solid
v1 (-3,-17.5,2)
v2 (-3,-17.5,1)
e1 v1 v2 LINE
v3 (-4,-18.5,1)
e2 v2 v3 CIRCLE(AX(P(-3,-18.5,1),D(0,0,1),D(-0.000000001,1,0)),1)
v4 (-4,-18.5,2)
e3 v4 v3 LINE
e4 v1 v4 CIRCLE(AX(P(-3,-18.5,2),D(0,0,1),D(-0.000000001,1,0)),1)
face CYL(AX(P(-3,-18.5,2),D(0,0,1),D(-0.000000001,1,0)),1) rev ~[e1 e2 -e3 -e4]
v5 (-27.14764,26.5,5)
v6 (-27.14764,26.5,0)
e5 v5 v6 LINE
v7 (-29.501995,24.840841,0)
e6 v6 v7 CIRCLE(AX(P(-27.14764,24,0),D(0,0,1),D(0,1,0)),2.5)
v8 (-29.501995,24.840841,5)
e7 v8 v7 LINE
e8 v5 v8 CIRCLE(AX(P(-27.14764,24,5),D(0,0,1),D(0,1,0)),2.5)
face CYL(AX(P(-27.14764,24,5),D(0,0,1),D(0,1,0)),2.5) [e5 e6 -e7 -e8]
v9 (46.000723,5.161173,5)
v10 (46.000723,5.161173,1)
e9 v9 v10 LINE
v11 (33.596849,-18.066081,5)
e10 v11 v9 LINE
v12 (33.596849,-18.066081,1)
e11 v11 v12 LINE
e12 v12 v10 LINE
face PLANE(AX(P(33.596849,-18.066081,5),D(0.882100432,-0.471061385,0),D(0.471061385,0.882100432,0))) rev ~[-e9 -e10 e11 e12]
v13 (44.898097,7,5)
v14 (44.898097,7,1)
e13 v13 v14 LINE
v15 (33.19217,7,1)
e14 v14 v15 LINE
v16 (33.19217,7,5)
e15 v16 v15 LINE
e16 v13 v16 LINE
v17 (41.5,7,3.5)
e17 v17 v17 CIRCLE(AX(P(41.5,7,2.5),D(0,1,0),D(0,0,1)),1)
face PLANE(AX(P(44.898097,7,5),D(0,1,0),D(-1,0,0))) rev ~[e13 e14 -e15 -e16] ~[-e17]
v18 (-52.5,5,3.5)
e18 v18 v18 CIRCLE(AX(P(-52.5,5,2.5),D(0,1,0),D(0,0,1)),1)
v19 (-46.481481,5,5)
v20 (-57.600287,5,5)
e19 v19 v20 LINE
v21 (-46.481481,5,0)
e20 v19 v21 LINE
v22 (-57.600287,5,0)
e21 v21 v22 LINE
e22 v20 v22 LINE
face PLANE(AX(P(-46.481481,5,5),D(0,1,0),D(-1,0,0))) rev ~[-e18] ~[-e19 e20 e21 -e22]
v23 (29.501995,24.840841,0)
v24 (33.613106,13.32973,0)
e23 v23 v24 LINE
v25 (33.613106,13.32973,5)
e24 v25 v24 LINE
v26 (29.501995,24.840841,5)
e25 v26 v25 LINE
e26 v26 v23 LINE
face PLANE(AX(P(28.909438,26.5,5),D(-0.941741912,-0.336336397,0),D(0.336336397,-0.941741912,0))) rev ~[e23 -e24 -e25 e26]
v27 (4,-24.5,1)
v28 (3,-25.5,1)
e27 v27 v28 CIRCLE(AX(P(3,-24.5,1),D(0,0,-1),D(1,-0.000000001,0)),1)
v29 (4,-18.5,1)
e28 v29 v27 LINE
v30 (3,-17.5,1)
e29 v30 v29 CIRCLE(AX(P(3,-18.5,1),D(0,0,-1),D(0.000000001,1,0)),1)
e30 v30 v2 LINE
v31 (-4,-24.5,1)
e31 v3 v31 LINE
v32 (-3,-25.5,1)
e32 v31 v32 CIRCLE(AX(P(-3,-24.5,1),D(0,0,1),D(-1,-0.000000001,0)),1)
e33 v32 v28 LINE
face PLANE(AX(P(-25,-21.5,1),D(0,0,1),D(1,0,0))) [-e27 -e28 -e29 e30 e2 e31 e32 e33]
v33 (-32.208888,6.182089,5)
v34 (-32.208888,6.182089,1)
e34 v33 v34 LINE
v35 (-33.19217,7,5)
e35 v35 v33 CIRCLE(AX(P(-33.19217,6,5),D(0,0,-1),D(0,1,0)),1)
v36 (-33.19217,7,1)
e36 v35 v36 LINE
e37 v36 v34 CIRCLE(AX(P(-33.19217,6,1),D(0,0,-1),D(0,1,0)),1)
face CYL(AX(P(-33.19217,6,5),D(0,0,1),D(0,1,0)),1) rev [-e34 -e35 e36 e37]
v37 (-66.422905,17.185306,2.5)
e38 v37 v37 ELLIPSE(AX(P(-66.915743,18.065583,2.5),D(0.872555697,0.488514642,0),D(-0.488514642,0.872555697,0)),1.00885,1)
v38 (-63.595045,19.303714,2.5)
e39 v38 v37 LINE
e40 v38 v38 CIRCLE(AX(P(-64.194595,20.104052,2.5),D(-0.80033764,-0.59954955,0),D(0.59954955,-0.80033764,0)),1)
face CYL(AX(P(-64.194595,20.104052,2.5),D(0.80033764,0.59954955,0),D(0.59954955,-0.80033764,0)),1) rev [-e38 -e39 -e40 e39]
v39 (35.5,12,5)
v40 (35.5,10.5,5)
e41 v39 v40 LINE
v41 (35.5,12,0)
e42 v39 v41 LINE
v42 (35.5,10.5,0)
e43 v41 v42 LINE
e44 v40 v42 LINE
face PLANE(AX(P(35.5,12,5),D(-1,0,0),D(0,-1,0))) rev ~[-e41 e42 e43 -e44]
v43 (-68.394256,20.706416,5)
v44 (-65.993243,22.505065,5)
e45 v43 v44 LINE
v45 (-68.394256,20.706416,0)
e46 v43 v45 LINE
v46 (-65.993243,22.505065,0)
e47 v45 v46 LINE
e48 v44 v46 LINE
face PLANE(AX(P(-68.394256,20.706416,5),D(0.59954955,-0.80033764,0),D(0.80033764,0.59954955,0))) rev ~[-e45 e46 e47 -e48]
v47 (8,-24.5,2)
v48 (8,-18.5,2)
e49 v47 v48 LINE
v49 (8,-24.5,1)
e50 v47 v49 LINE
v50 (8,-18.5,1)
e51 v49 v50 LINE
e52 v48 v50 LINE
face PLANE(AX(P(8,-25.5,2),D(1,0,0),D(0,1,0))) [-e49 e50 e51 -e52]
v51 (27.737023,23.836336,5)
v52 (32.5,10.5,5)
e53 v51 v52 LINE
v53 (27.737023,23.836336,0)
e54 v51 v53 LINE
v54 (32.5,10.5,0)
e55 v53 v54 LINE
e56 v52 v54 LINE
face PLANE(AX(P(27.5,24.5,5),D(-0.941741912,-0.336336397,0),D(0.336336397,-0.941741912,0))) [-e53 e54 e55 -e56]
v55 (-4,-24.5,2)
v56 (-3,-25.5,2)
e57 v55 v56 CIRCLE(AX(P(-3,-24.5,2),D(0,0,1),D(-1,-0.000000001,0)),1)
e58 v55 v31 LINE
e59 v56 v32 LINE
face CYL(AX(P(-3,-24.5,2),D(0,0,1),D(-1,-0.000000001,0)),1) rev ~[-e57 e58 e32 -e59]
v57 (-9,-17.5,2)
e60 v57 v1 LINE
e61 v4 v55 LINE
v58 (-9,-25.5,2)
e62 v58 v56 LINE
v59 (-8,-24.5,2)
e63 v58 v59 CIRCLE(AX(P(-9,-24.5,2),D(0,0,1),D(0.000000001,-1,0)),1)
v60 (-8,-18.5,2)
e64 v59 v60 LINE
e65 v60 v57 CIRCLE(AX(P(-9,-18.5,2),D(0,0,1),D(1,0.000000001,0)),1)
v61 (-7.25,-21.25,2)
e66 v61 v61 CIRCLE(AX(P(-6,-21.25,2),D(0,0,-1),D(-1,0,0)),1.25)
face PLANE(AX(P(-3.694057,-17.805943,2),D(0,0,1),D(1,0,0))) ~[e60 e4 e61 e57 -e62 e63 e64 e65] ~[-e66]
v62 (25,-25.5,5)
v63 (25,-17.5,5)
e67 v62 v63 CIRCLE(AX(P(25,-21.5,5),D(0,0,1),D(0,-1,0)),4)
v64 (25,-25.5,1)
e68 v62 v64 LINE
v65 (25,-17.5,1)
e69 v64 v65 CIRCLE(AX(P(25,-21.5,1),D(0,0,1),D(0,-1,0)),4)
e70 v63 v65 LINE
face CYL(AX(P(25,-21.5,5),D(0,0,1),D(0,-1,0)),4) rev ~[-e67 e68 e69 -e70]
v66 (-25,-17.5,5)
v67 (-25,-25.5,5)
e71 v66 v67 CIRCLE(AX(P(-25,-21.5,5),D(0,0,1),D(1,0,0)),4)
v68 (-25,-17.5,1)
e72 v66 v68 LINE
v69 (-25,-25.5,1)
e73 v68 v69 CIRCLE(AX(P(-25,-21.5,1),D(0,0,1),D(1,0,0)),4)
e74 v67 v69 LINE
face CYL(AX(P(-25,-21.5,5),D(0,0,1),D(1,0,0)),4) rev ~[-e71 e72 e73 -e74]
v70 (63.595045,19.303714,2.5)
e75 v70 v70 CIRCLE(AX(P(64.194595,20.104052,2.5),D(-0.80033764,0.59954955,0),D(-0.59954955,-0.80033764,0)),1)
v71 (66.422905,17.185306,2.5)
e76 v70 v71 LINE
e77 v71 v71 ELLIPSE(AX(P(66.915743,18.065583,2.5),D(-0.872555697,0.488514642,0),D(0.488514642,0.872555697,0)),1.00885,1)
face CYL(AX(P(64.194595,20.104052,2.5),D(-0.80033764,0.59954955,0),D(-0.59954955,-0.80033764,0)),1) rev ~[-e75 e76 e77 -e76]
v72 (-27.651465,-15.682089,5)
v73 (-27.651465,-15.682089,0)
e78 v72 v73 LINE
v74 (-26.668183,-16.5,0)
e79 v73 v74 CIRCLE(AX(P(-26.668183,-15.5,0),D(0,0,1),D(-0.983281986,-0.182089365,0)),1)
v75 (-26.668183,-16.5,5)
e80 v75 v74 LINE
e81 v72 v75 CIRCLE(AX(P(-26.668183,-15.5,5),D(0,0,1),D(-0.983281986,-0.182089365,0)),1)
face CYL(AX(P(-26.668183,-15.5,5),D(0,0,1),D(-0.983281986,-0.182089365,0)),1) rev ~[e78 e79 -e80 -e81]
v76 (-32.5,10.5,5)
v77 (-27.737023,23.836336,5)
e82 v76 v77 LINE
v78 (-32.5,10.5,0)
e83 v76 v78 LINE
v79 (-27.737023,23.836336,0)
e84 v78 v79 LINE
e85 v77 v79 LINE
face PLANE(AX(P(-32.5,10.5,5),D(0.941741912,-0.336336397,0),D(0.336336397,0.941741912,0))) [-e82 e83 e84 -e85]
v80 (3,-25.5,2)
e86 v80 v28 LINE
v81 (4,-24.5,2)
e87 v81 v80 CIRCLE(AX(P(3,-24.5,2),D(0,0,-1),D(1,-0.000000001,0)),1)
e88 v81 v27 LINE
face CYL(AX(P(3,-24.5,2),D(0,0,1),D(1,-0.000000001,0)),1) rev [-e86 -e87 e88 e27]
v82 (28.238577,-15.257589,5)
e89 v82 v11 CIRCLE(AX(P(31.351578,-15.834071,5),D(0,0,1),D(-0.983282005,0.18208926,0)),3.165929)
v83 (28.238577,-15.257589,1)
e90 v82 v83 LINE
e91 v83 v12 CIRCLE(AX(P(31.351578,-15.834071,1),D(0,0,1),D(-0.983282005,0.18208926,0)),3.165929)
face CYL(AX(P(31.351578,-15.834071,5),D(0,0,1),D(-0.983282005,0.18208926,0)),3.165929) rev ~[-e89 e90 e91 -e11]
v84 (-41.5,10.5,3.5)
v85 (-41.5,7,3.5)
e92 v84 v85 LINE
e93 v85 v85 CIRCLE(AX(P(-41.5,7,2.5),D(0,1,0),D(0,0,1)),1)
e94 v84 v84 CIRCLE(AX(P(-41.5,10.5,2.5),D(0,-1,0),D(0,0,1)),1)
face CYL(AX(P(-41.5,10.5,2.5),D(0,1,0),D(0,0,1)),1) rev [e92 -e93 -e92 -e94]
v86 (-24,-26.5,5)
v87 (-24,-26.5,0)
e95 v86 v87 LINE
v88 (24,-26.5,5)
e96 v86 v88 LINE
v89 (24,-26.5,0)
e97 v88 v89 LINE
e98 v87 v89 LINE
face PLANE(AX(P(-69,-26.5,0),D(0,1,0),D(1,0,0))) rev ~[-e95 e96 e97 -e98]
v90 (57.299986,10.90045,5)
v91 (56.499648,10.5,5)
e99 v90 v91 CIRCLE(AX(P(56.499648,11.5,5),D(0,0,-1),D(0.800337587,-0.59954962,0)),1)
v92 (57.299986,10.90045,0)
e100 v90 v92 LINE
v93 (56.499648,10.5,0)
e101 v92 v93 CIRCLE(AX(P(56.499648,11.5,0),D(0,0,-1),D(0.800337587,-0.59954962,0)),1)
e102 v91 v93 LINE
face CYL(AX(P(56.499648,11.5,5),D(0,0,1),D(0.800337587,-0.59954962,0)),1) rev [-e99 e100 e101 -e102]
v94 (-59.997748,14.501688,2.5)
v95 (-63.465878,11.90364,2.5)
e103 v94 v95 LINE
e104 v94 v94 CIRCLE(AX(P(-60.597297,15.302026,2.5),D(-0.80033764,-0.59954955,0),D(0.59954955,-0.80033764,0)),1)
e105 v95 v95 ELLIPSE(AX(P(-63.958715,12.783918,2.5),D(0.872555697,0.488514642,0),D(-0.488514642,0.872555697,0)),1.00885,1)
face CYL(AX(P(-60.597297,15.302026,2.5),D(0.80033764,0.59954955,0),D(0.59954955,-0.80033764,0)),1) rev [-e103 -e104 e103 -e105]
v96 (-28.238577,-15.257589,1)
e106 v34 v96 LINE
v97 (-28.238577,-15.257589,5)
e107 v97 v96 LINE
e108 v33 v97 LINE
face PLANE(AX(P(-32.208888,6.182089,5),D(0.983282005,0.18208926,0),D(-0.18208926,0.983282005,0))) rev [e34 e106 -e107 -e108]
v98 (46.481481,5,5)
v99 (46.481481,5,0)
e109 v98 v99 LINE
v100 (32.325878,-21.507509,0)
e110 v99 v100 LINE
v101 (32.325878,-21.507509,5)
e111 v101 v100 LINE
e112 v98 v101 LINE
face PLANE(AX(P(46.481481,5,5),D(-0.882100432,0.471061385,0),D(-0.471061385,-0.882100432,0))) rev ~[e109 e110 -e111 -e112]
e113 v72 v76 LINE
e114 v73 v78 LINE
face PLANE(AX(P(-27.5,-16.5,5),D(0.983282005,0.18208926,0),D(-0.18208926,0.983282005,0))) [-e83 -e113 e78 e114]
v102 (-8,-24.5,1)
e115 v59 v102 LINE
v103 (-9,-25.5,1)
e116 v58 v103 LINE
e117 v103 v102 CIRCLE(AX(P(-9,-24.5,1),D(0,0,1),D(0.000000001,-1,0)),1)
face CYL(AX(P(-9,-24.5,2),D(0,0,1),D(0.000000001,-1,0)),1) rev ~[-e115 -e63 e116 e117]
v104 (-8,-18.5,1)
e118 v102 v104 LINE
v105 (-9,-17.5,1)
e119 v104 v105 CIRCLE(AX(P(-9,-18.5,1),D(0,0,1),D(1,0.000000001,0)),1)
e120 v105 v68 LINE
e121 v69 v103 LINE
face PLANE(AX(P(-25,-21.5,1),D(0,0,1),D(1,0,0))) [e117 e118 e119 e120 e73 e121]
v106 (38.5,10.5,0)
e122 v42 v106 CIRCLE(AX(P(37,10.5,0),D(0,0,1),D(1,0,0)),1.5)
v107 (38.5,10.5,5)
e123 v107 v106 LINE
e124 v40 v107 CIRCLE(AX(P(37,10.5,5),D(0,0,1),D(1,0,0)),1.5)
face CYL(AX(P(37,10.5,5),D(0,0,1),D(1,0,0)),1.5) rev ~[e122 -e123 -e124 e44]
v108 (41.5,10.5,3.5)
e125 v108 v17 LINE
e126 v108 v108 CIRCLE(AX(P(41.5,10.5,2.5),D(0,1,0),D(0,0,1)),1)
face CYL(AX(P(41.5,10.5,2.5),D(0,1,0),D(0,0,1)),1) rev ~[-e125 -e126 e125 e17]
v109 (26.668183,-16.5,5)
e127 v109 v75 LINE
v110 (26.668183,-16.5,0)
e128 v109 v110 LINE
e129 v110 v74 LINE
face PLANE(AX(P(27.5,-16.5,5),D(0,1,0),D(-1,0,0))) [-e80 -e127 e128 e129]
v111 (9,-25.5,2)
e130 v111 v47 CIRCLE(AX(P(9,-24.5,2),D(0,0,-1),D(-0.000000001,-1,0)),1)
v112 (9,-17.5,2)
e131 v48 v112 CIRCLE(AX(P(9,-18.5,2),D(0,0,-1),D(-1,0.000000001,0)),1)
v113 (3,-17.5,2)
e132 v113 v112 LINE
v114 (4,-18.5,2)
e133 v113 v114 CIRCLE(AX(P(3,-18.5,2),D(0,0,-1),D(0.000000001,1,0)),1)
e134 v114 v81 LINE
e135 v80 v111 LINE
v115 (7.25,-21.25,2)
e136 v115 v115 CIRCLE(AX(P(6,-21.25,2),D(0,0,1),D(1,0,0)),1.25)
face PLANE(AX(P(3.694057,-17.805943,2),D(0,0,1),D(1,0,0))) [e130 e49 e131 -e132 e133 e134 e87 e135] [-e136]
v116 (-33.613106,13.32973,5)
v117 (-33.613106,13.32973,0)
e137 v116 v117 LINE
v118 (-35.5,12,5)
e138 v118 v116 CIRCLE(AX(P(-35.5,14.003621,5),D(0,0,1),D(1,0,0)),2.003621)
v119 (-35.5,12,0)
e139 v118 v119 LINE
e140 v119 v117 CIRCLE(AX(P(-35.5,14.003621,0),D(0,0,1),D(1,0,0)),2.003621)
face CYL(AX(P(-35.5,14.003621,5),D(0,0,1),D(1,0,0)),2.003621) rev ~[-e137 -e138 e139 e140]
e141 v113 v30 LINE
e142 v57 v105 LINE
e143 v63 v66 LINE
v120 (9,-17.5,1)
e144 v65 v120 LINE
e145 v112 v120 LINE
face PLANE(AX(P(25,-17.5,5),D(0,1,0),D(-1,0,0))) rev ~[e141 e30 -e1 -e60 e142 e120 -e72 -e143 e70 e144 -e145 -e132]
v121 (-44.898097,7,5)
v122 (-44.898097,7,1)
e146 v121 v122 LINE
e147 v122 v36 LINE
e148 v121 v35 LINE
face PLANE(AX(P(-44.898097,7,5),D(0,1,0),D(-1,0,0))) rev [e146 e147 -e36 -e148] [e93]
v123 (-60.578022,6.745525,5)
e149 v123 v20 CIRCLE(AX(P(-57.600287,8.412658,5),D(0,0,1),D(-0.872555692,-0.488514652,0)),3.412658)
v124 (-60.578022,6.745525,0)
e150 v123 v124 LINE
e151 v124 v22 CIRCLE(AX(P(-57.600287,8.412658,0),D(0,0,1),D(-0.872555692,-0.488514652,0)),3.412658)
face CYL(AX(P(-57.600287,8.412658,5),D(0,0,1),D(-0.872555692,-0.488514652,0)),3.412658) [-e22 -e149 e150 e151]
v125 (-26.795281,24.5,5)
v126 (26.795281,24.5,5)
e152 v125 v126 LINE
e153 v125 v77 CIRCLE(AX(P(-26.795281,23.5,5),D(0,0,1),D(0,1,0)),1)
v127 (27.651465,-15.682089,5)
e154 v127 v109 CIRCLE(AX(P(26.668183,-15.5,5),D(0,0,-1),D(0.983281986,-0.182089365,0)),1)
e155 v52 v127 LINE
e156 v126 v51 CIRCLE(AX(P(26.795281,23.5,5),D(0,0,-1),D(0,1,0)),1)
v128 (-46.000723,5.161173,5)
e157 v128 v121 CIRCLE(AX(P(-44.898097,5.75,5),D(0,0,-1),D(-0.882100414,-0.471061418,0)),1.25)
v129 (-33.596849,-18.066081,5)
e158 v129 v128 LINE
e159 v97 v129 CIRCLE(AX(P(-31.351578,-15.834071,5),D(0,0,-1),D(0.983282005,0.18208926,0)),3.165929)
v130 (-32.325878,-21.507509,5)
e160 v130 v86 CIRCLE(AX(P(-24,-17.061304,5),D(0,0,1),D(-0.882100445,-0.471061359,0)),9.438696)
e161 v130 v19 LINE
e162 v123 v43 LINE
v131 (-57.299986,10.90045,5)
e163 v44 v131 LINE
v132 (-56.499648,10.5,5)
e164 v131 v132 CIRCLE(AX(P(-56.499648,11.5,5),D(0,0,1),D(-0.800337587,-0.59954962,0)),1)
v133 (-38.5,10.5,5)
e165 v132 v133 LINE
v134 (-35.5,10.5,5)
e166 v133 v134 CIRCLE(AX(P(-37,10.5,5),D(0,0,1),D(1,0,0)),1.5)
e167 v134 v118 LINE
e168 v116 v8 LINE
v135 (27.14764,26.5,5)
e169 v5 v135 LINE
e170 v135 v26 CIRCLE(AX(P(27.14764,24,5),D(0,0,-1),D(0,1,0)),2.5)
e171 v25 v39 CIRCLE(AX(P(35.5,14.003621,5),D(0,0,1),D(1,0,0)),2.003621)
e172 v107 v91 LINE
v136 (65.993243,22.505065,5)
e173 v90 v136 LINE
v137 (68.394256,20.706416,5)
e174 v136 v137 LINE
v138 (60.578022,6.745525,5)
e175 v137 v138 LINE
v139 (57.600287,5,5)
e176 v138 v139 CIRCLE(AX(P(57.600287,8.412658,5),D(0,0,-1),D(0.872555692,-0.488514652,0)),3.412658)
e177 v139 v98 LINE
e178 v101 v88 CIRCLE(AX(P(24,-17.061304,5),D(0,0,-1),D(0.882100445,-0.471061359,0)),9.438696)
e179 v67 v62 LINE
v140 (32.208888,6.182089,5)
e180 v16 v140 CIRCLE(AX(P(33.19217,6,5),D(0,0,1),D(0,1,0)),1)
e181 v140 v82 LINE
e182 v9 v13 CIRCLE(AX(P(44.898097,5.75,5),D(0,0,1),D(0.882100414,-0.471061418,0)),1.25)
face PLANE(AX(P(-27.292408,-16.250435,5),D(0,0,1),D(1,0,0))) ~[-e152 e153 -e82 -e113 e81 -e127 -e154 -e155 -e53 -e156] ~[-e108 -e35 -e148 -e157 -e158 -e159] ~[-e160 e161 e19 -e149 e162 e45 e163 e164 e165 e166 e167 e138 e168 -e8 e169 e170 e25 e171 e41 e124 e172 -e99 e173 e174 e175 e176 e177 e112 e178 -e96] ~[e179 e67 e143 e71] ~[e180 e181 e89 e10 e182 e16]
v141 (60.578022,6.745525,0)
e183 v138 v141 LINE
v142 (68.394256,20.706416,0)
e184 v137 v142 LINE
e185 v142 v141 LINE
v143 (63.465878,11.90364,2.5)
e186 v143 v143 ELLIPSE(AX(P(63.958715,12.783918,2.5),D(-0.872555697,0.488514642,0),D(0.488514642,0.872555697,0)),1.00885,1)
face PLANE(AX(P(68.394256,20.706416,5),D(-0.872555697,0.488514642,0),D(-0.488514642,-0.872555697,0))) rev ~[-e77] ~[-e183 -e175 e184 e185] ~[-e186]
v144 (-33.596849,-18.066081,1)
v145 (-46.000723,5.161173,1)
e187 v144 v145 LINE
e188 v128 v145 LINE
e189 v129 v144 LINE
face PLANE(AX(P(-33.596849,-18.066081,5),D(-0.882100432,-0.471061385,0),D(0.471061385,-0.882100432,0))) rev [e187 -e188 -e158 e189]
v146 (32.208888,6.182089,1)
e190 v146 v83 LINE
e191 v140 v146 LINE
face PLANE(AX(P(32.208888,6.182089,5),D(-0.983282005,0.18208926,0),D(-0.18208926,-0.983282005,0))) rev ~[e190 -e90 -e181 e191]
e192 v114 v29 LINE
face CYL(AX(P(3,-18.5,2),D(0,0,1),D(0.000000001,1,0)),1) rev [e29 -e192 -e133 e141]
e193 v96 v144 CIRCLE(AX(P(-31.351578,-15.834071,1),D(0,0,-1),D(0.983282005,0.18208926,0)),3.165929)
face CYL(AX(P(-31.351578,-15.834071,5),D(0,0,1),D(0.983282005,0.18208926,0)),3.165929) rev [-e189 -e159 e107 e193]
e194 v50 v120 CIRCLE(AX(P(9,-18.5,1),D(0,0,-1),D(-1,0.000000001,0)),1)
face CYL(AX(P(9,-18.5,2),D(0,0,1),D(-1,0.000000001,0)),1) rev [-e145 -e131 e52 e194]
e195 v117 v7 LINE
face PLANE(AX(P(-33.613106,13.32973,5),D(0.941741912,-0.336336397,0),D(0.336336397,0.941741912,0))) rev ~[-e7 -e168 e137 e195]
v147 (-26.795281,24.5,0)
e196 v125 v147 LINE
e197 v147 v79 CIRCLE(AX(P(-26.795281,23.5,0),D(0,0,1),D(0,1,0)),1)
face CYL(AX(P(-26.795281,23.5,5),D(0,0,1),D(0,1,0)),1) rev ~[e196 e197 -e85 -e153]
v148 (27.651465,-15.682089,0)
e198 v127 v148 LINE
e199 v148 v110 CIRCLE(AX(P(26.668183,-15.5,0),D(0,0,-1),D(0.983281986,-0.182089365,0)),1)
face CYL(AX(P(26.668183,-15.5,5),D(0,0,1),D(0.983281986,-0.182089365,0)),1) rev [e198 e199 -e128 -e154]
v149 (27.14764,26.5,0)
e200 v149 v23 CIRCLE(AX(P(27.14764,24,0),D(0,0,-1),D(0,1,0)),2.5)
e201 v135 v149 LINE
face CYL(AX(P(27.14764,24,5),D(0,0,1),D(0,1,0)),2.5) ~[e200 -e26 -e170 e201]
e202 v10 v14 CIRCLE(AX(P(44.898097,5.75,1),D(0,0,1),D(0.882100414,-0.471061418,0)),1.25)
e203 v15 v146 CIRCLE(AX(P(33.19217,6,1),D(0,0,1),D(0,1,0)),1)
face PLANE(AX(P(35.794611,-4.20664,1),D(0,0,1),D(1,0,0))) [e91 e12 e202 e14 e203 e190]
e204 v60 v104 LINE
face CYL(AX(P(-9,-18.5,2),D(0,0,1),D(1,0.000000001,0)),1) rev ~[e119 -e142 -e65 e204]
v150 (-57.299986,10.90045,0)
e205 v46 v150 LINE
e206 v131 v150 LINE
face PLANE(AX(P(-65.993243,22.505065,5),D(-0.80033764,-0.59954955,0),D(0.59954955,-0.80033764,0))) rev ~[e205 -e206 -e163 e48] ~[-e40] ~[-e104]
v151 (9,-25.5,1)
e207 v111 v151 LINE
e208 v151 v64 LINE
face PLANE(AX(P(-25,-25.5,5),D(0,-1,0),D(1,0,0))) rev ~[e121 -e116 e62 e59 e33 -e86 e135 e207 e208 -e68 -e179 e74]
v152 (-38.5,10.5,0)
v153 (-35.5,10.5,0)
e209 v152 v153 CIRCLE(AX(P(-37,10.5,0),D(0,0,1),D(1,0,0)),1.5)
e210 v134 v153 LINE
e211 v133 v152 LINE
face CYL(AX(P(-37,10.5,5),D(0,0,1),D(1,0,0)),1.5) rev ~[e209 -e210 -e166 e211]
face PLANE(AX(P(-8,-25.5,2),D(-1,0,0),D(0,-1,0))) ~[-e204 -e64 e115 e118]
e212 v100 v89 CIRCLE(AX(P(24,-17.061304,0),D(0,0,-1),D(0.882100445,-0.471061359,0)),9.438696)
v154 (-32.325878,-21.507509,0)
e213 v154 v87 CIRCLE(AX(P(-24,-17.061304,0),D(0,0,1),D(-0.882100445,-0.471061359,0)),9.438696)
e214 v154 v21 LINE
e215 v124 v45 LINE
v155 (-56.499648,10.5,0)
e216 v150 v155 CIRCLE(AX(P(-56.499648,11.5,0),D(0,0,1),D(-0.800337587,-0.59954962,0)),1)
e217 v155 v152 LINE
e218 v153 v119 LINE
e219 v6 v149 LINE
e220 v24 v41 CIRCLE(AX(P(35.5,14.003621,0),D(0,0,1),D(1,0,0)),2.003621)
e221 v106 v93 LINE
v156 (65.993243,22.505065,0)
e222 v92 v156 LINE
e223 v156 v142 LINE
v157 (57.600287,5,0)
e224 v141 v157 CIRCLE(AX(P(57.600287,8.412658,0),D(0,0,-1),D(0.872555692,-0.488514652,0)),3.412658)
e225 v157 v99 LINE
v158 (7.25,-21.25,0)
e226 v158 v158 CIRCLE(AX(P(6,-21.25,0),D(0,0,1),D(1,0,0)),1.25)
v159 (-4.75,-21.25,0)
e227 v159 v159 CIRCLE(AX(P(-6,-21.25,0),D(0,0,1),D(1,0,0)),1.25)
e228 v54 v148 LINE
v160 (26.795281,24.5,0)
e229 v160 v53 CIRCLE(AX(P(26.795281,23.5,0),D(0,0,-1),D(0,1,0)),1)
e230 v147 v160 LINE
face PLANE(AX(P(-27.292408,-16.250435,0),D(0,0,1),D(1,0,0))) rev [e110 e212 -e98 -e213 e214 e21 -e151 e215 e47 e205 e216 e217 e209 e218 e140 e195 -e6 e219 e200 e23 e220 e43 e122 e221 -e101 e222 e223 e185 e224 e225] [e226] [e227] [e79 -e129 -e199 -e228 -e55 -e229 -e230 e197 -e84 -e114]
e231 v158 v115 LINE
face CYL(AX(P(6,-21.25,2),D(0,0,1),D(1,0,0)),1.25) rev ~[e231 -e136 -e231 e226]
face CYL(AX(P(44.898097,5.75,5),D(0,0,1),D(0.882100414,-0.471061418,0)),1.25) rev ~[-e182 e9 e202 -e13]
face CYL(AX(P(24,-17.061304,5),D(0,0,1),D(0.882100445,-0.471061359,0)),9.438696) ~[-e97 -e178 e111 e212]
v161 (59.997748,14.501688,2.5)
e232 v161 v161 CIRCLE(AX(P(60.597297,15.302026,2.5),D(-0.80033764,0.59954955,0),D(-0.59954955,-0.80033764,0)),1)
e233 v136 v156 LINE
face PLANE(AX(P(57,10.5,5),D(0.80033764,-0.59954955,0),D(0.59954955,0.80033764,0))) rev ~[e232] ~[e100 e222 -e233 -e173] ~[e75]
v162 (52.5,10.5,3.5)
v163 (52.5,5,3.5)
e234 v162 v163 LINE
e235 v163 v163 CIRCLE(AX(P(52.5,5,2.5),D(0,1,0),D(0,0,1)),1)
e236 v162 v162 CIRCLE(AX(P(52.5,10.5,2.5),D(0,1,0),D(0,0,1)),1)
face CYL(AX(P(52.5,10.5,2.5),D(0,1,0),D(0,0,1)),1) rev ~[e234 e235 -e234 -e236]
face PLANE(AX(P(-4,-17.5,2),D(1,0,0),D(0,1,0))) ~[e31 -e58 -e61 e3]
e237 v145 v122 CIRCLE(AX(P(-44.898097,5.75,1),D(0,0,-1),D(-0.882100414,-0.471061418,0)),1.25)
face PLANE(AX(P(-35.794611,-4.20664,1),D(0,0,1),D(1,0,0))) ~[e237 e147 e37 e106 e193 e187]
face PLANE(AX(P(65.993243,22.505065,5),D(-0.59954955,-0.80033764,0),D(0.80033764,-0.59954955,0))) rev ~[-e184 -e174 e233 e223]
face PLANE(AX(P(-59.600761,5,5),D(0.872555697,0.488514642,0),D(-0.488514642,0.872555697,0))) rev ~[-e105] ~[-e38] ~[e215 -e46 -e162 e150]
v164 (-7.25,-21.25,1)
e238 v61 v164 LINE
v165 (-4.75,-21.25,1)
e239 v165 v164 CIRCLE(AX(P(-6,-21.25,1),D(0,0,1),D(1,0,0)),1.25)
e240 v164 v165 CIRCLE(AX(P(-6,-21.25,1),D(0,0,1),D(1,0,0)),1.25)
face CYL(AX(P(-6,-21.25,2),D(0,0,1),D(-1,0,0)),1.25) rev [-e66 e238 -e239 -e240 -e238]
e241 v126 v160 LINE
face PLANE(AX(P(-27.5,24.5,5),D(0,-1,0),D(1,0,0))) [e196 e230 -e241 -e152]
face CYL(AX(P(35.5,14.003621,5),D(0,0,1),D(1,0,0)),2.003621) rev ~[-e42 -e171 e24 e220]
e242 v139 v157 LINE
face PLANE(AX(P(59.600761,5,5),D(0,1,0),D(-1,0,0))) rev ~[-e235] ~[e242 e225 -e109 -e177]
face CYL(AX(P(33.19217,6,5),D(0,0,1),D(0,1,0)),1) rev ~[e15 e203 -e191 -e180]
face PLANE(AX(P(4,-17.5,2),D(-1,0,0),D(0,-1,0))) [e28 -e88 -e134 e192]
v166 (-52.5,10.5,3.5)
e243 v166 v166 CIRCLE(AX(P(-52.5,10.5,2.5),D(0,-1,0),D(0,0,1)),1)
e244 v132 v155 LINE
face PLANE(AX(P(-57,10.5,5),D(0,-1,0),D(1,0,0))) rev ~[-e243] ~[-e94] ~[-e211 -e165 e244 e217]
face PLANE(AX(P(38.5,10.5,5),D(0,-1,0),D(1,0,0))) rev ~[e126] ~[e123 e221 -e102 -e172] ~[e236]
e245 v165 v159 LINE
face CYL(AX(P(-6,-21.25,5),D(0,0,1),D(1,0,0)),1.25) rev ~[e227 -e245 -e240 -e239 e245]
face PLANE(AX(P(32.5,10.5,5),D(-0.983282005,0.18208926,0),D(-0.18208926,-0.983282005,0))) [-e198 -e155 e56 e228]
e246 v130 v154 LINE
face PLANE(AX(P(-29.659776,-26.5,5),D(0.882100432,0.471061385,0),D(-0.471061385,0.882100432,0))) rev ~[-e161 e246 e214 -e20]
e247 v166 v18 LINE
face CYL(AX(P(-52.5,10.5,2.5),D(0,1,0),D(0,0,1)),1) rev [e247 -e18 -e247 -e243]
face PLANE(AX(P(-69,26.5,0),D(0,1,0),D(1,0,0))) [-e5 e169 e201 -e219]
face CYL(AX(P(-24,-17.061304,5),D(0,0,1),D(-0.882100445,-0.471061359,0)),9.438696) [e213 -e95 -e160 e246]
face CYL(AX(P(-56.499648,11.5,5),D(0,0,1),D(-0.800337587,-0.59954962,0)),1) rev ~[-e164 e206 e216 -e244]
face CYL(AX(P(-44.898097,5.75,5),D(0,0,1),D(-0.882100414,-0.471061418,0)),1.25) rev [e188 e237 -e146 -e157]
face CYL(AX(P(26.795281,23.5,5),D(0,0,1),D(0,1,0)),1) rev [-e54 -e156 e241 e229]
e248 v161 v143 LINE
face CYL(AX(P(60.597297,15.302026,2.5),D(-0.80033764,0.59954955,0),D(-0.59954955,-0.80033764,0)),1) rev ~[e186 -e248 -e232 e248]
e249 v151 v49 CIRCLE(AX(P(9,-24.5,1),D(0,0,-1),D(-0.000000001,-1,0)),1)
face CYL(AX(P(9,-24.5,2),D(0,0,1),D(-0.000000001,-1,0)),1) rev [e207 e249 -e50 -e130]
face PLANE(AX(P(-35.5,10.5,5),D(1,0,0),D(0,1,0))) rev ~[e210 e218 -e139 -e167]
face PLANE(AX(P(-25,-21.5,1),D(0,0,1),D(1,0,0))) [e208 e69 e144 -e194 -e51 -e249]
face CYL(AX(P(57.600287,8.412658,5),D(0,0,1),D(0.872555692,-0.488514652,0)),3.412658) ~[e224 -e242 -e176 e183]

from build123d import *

# Parameters (mm, degrees)
CROQUIS1_W              = 138
CROQUIS1_H              = 53
SALIENTE_EXTRUIR1_DEPTH = 5
CROQUIS2_R              = 2.003620998
CROQUIS2_R_2            = 1.5
CROQUIS2_R_3            = 1.25
PRINCIPAL_DEPTH         = 5
CORTAR_EXTRUIR2_DEPTH   = 5
SALIENTE_EXTRUIR2_DEPTH = 5
CORTAR_EXTRUIR3_DEPTH   = 4
CROQUIS6_R              = 4
CORTAR_EXTRUIR4_DEPTH   = 4
SALIENTE_EXTRUIR3_START = 1
CROQUIS8_R              = 1.25
SALIENTE_EXTRUIR3_DEPTH = 1
CROQUIS9_R              = 1
CORTAR_EXTRUIR5_DEPTH   = 10
CROQUIS10_R             = 1
CORTAR_EXTRUIR6_DEPTH   = 10


with BuildPart() as part:
    # Croquis1 → Saliente-Extruir1 (new body)
    with BuildSketch(Plane.XY):
        Rectangle(CROQUIS1_W, CROQUIS1_H)
    extrude(amount=SALIENTE_EXTRUIR1_DEPTH)

    # Croquis2 → Principal (cut)
    with BuildSketch(Plane.XY.offset(5)):
        Polygon((-27.5, -16.5), (-32.5, 10.5), (-27.5, 24.5), (27.5, 24.5), (32.5, 10.5), (27.5, -16.5), align=None)
        with BuildLine():
            Line((-33.613106132, 13.32973033), (-28.909438392, 26.5))
            Line((-28.909438392, 26.5), (-69, 26.5))
            Line((-69, 26.5), (-69, -26.5))
            Line((-69, -26.5), (-29.659776055, -26.5))
            Line((-29.659776055, -26.5), (-46.481481481, 5))
            Line((-46.481481481, 5), (-59.600761168, 5))
            Line((-59.600761168, 5), (-68.394256163, 20.706415948))
            Line((-68.394256163, 20.706415948), (-65.993243243, 22.505064597))
            Line((-65.993243243, 22.505064597), (-57, 10.5))
            Line((-57, 10.5), (-38.5, 10.5))
            ThreePointArc((-38.5, 10.5), (-37, 12), (-35.5, 10.5))
            Line((-35.5, 10.5), (-35.5, 12))
            ThreePointArc((-35.5, 12), (-36.916773994, 15.420394992), (-33.496379002, 14.003620998))
            ThreePointArc((-33.496379002, 14.003620998), (-33.525776447, 13.661658334), (-33.613106132, 13.32973033))
        make_face()
        with BuildLine():
            Line((28.909438392, 26.5), (33.613106132, 13.32973033))
            ThreePointArc((33.613106132, 13.32973033), (35.158037336, 15.977844551), (37.503620998, 14.003620998))
            ThreePointArc((37.503620998, 14.003620998), (36.916773994, 12.586847003), (35.5, 12))
            Line((35.5, 12), (35.5, 10.5))
            ThreePointArc((35.5, 10.5), (37, 12), (38.5, 10.5))
            Line((38.5, 10.5), (57, 10.5))
            Line((57, 10.5), (65.993243243, 22.505064597))
            Line((65.993243243, 22.505064597), (68.394256163, 20.706415948))
            Line((68.394256163, 20.706415948), (59.600761168, 5))
            Line((59.600761168, 5), (46.481481481, 5))
            Line((46.481481481, 5), (29.659776055, -26.5))
            Line((29.659776055, -26.5), (69, -26.5))
            Line((69, -26.5), (69, 26.5))
            Line((69, 26.5), (28.909438392, 26.5))
        make_face()
        with Locations((-35.5, 14.003620998)):
            Circle(CROQUIS2_R)
        with Locations((35.5, 14.003620998)):
            Circle(CROQUIS2_R)
        with Locations((37, 10.5)):
            Circle(CROQUIS2_R_2)
        with Locations((-37, 10.5)):
            Circle(CROQUIS2_R_2)
        with Locations((-6, -21.25)):
            Circle(CROQUIS2_R_3)
        with Locations((6, -21.25)):
            Circle(CROQUIS2_R_3)
    extrude(amount=-PRINCIPAL_DEPTH, mode=Mode.SUBTRACT)

    # Croquis3 → Cortar-Extruir2 (cut)
    with BuildSketch(Plane.XY.offset(5)):
        with BuildLine():
            ThreePointArc((32.325878128, -21.50750886), (28.853998723, -25.156220871), (24, -26.5))
            Line((24, -26.5), (29.659776055, -26.5))
            Line((29.659776055, -26.5), (32.325878128, -21.50750886))
        make_face()
        with BuildLine():
            ThreePointArc((60.578021878, 6.745524755), (59.326103094, 5.468546056), (57.600287393, 5))
            Line((57.600287393, 5), (59.600761168, 5))
            Line((59.600761168, 5), (60.578021878, 6.745524755))
        make_face()
        with BuildLine():
            Line((28.909438392, 26.5), (27.147640402, 26.5))
            ThreePointArc((27.147640402, 26.5), (28.587761459, 26.043538926), (29.501995152, 24.840841072))
            Line((29.501995152, 24.840841072), (28.909438392, 26.5))
        make_face()
    cortar_extruir2 = extrude(amount=-CORTAR_EXTRUIR2_DEPTH, mode=Mode.SUBTRACT)

    # Simetría2: Cortar-Extruir2 across plane
    add(cortar_extruir2.mirror(Plane(origin=(0, 0, 0), x_dir=(0, 0, 1), z_dir=(1, 0, 0))), mode=Mode.SUBTRACT)

    # Croquis4 → Saliente-Extruir2 (add)
    with BuildSketch(Plane.XY.offset(5)):
        with BuildLine():
            ThreePointArc((27.651464932, -15.682089366), (27.30767909, -16.268794305), (26.668182947, -16.5))
            Line((26.668182947, -16.5), (27.5, -16.5))
            Line((27.5, -16.5), (27.651464932, -15.682089366))
        make_face()
        with BuildLine():
            ThreePointArc((26.795280804, 24.5), (27.371329386, 24.317415458), (27.737022835, 23.836336061))
            Line((27.737022835, 23.836336061), (27.5, 24.5))
            Line((27.5, 24.5), (26.795280804, 24.5))
        make_face()
        with BuildLine():
            ThreePointArc((57.299985699, 10.900450382), (56.947113406, 10.605698704), (56.49964811, 10.5))
            Line((56.49964811, 10.5), (57, 10.5))
            Line((57, 10.5), (57.299985699, 10.900450382))
        make_face()
    saliente_extruir2 = extrude(amount=-SALIENTE_EXTRUIR2_DEPTH)

    # Simetría3: Saliente-Extruir2 across plane
    add(saliente_extruir2.mirror(Plane(origin=(0, 0, 0), x_dir=(0, 0, 1), z_dir=(1, 0, 0))))

    # Croquis5 → Cortar-Extruir3 (cut)
    with BuildSketch(Plane.XY.offset(5)):
        with BuildLine():
            Line((32.208888015, 6.182089238), (28.238577223, -15.257589037))
            ThreePointArc((28.238577223, -15.257589037), (29.881835098, -18.638168181), (33.596848928, -18.066080749))
            Line((33.596848928, -18.066080749), (46.000722714, 5.161173227))
            ThreePointArc((46.000722714, 5.161173227), (45.970135784, 6.392832223), (44.898097197, 7))
            Line((44.898097197, 7), (33.192170024, 7))
            ThreePointArc((33.192170024, 7), (32.552673831, 6.768794263), (32.208888015, 6.182089238))
        make_face()
    cortar_extruir3 = extrude(amount=-CORTAR_EXTRUIR3_DEPTH, mode=Mode.SUBTRACT)

    # Simetría4: Cortar-Extruir3 across plane
    add(cortar_extruir3.mirror(Plane(origin=(0, 0, 0), x_dir=(0, 0, 1), z_dir=(1, 0, 0))), mode=Mode.SUBTRACT)

    # Croquis6 → Cortar-Extruir4 (cut)
    with BuildSketch(Plane.XY.offset(5)):
        with Locations((-25, -21.5)):
            Circle(CROQUIS6_R)
        with BuildLine():
            Line((25, -17.5), (-25, -17.5))
            ThreePointArc((-25, -17.5), (-22.171572875, -18.671572875), (-21, -21.5))
            ThreePointArc((-21, -21.5), (-22.171572875, -24.328427125), (-25, -25.5))
            Line((-25, -25.5), (25, -25.5))
            ThreePointArc((25, -25.5), (21, -21.5), (25, -17.5))
        make_face()
        with Locations((25, -21.5)):
            Circle(CROQUIS6_R)
    extrude(amount=-CORTAR_EXTRUIR4_DEPTH, mode=Mode.SUBTRACT)

    # Croquis8 → Saliente-Extruir3 (add)
    # profile 1 of 5: a face of its own
    with BuildSketch(Plane.XY.offset(1).offset(SALIENTE_EXTRUIR3_START)):
        with BuildLine():
            Line((4, -18.5), (4, -17.5))
            Line((4, -17.5), (3, -17.5))
            ThreePointArc((3, -17.5), (3.707106781, -17.792893219), (4, -18.5))
        make_face()
    # profile 2 of 5: a face of its own
    with BuildSketch(Plane.XY.offset(1).offset(SALIENTE_EXTRUIR3_START)):
        Polygon((8, -17.5), (4, -17.5), (4, -18.5), (4, -24.5), (4, -25.5), (8, -25.5), (8, -24.5), (8, -18.5), align=None)
        with Locations((6, -21.25)):
            Circle(CROQUIS8_R, mode=Mode.SUBTRACT)
    # profile 3 of 5: a face of its own
    with BuildSketch(Plane.XY.offset(1).offset(SALIENTE_EXTRUIR3_START)):
        with BuildLine():
            Line((9, -17.5), (8, -17.5))
            Line((8, -17.5), (8, -18.5))
            ThreePointArc((8, -18.5), (8.292893219, -17.792893219), (9, -17.5))
        make_face()
    # profile 4 of 5: a face of its own
    with BuildSketch(Plane.XY.offset(1).offset(SALIENTE_EXTRUIR3_START)):
        with BuildLine():
            ThreePointArc((9, -25.5), (8.292893219, -25.207106781), (8, -24.5))
            Line((8, -24.5), (8, -25.5))
            Line((8, -25.5), (9, -25.5))
        make_face()
    # profile 5 of 5: a face of its own
    with BuildSketch(Plane.XY.offset(1).offset(SALIENTE_EXTRUIR3_START)):
        with BuildLine():
            Line((4, -25.5), (4, -24.5))
            ThreePointArc((4, -24.5), (3.707106781, -25.207106781), (3, -25.5))
            Line((3, -25.5), (4, -25.5))
        make_face()
    saliente_extruir3 = extrude(amount=-SALIENTE_EXTRUIR3_DEPTH)

    # Simetría5: Saliente-Extruir3 across plane
    add(saliente_extruir3.mirror(Plane(origin=(0, 0, 0), x_dir=(0, 0, 1), z_dir=(1, 0, 0))))

    # Croquis9 → Cortar-Extruir5 (cut)
    with BuildSketch(Plane(origin=(31.472457495, -23.576671616, 0), x_dir=(0, 0, 1), z_dir=(-0.8003376397714477, 0.5995495495495503, 0))):
        with Locations(Location((2.5, 54.577869542, 0), (0, 0, 270))):
            Circle(CROQUIS9_R)
        with Locations(Location((2.5, 48.577869542, 0), (0, 0, 270))):
            Circle(CROQUIS9_R)
    cortar_extruir5 = extrude(amount=-CORTAR_EXTRUIR5_DEPTH, mode=Mode.SUBTRACT)

    # Simetría6: Cortar-Extruir5 across plane
    add(cortar_extruir5.mirror(Plane(origin=(0, 0, 0), x_dir=(0, 0, 1), z_dir=(1, 0, 0))), mode=Mode.SUBTRACT)

    # Croquis10 → Cortar-Extruir6 (cut)
    with BuildSketch(Plane(origin=(0, 10.5, 0), x_dir=(1, 0, 0), z_dir=(0, 1, 0))):
        with Locations(Location((52.5, -2.5, 0), (0, 0, 270))):
            Circle(CROQUIS10_R)
        with Locations(Location((41.5, -2.5, 0), (0, 0, 270))):
            Circle(CROQUIS10_R)
    cortar_extruir6 = extrude(amount=-CORTAR_EXTRUIR6_DEPTH, mode=Mode.SUBTRACT)

    # Simetría7: Cortar-Extruir6 across plane
    add(cortar_extruir6.mirror(Plane(origin=(0, 0, 0), x_dir=(0, 0, 1), z_dir=(1, 0, 0))), mode=Mode.SUBTRACT)


solid = part.part
